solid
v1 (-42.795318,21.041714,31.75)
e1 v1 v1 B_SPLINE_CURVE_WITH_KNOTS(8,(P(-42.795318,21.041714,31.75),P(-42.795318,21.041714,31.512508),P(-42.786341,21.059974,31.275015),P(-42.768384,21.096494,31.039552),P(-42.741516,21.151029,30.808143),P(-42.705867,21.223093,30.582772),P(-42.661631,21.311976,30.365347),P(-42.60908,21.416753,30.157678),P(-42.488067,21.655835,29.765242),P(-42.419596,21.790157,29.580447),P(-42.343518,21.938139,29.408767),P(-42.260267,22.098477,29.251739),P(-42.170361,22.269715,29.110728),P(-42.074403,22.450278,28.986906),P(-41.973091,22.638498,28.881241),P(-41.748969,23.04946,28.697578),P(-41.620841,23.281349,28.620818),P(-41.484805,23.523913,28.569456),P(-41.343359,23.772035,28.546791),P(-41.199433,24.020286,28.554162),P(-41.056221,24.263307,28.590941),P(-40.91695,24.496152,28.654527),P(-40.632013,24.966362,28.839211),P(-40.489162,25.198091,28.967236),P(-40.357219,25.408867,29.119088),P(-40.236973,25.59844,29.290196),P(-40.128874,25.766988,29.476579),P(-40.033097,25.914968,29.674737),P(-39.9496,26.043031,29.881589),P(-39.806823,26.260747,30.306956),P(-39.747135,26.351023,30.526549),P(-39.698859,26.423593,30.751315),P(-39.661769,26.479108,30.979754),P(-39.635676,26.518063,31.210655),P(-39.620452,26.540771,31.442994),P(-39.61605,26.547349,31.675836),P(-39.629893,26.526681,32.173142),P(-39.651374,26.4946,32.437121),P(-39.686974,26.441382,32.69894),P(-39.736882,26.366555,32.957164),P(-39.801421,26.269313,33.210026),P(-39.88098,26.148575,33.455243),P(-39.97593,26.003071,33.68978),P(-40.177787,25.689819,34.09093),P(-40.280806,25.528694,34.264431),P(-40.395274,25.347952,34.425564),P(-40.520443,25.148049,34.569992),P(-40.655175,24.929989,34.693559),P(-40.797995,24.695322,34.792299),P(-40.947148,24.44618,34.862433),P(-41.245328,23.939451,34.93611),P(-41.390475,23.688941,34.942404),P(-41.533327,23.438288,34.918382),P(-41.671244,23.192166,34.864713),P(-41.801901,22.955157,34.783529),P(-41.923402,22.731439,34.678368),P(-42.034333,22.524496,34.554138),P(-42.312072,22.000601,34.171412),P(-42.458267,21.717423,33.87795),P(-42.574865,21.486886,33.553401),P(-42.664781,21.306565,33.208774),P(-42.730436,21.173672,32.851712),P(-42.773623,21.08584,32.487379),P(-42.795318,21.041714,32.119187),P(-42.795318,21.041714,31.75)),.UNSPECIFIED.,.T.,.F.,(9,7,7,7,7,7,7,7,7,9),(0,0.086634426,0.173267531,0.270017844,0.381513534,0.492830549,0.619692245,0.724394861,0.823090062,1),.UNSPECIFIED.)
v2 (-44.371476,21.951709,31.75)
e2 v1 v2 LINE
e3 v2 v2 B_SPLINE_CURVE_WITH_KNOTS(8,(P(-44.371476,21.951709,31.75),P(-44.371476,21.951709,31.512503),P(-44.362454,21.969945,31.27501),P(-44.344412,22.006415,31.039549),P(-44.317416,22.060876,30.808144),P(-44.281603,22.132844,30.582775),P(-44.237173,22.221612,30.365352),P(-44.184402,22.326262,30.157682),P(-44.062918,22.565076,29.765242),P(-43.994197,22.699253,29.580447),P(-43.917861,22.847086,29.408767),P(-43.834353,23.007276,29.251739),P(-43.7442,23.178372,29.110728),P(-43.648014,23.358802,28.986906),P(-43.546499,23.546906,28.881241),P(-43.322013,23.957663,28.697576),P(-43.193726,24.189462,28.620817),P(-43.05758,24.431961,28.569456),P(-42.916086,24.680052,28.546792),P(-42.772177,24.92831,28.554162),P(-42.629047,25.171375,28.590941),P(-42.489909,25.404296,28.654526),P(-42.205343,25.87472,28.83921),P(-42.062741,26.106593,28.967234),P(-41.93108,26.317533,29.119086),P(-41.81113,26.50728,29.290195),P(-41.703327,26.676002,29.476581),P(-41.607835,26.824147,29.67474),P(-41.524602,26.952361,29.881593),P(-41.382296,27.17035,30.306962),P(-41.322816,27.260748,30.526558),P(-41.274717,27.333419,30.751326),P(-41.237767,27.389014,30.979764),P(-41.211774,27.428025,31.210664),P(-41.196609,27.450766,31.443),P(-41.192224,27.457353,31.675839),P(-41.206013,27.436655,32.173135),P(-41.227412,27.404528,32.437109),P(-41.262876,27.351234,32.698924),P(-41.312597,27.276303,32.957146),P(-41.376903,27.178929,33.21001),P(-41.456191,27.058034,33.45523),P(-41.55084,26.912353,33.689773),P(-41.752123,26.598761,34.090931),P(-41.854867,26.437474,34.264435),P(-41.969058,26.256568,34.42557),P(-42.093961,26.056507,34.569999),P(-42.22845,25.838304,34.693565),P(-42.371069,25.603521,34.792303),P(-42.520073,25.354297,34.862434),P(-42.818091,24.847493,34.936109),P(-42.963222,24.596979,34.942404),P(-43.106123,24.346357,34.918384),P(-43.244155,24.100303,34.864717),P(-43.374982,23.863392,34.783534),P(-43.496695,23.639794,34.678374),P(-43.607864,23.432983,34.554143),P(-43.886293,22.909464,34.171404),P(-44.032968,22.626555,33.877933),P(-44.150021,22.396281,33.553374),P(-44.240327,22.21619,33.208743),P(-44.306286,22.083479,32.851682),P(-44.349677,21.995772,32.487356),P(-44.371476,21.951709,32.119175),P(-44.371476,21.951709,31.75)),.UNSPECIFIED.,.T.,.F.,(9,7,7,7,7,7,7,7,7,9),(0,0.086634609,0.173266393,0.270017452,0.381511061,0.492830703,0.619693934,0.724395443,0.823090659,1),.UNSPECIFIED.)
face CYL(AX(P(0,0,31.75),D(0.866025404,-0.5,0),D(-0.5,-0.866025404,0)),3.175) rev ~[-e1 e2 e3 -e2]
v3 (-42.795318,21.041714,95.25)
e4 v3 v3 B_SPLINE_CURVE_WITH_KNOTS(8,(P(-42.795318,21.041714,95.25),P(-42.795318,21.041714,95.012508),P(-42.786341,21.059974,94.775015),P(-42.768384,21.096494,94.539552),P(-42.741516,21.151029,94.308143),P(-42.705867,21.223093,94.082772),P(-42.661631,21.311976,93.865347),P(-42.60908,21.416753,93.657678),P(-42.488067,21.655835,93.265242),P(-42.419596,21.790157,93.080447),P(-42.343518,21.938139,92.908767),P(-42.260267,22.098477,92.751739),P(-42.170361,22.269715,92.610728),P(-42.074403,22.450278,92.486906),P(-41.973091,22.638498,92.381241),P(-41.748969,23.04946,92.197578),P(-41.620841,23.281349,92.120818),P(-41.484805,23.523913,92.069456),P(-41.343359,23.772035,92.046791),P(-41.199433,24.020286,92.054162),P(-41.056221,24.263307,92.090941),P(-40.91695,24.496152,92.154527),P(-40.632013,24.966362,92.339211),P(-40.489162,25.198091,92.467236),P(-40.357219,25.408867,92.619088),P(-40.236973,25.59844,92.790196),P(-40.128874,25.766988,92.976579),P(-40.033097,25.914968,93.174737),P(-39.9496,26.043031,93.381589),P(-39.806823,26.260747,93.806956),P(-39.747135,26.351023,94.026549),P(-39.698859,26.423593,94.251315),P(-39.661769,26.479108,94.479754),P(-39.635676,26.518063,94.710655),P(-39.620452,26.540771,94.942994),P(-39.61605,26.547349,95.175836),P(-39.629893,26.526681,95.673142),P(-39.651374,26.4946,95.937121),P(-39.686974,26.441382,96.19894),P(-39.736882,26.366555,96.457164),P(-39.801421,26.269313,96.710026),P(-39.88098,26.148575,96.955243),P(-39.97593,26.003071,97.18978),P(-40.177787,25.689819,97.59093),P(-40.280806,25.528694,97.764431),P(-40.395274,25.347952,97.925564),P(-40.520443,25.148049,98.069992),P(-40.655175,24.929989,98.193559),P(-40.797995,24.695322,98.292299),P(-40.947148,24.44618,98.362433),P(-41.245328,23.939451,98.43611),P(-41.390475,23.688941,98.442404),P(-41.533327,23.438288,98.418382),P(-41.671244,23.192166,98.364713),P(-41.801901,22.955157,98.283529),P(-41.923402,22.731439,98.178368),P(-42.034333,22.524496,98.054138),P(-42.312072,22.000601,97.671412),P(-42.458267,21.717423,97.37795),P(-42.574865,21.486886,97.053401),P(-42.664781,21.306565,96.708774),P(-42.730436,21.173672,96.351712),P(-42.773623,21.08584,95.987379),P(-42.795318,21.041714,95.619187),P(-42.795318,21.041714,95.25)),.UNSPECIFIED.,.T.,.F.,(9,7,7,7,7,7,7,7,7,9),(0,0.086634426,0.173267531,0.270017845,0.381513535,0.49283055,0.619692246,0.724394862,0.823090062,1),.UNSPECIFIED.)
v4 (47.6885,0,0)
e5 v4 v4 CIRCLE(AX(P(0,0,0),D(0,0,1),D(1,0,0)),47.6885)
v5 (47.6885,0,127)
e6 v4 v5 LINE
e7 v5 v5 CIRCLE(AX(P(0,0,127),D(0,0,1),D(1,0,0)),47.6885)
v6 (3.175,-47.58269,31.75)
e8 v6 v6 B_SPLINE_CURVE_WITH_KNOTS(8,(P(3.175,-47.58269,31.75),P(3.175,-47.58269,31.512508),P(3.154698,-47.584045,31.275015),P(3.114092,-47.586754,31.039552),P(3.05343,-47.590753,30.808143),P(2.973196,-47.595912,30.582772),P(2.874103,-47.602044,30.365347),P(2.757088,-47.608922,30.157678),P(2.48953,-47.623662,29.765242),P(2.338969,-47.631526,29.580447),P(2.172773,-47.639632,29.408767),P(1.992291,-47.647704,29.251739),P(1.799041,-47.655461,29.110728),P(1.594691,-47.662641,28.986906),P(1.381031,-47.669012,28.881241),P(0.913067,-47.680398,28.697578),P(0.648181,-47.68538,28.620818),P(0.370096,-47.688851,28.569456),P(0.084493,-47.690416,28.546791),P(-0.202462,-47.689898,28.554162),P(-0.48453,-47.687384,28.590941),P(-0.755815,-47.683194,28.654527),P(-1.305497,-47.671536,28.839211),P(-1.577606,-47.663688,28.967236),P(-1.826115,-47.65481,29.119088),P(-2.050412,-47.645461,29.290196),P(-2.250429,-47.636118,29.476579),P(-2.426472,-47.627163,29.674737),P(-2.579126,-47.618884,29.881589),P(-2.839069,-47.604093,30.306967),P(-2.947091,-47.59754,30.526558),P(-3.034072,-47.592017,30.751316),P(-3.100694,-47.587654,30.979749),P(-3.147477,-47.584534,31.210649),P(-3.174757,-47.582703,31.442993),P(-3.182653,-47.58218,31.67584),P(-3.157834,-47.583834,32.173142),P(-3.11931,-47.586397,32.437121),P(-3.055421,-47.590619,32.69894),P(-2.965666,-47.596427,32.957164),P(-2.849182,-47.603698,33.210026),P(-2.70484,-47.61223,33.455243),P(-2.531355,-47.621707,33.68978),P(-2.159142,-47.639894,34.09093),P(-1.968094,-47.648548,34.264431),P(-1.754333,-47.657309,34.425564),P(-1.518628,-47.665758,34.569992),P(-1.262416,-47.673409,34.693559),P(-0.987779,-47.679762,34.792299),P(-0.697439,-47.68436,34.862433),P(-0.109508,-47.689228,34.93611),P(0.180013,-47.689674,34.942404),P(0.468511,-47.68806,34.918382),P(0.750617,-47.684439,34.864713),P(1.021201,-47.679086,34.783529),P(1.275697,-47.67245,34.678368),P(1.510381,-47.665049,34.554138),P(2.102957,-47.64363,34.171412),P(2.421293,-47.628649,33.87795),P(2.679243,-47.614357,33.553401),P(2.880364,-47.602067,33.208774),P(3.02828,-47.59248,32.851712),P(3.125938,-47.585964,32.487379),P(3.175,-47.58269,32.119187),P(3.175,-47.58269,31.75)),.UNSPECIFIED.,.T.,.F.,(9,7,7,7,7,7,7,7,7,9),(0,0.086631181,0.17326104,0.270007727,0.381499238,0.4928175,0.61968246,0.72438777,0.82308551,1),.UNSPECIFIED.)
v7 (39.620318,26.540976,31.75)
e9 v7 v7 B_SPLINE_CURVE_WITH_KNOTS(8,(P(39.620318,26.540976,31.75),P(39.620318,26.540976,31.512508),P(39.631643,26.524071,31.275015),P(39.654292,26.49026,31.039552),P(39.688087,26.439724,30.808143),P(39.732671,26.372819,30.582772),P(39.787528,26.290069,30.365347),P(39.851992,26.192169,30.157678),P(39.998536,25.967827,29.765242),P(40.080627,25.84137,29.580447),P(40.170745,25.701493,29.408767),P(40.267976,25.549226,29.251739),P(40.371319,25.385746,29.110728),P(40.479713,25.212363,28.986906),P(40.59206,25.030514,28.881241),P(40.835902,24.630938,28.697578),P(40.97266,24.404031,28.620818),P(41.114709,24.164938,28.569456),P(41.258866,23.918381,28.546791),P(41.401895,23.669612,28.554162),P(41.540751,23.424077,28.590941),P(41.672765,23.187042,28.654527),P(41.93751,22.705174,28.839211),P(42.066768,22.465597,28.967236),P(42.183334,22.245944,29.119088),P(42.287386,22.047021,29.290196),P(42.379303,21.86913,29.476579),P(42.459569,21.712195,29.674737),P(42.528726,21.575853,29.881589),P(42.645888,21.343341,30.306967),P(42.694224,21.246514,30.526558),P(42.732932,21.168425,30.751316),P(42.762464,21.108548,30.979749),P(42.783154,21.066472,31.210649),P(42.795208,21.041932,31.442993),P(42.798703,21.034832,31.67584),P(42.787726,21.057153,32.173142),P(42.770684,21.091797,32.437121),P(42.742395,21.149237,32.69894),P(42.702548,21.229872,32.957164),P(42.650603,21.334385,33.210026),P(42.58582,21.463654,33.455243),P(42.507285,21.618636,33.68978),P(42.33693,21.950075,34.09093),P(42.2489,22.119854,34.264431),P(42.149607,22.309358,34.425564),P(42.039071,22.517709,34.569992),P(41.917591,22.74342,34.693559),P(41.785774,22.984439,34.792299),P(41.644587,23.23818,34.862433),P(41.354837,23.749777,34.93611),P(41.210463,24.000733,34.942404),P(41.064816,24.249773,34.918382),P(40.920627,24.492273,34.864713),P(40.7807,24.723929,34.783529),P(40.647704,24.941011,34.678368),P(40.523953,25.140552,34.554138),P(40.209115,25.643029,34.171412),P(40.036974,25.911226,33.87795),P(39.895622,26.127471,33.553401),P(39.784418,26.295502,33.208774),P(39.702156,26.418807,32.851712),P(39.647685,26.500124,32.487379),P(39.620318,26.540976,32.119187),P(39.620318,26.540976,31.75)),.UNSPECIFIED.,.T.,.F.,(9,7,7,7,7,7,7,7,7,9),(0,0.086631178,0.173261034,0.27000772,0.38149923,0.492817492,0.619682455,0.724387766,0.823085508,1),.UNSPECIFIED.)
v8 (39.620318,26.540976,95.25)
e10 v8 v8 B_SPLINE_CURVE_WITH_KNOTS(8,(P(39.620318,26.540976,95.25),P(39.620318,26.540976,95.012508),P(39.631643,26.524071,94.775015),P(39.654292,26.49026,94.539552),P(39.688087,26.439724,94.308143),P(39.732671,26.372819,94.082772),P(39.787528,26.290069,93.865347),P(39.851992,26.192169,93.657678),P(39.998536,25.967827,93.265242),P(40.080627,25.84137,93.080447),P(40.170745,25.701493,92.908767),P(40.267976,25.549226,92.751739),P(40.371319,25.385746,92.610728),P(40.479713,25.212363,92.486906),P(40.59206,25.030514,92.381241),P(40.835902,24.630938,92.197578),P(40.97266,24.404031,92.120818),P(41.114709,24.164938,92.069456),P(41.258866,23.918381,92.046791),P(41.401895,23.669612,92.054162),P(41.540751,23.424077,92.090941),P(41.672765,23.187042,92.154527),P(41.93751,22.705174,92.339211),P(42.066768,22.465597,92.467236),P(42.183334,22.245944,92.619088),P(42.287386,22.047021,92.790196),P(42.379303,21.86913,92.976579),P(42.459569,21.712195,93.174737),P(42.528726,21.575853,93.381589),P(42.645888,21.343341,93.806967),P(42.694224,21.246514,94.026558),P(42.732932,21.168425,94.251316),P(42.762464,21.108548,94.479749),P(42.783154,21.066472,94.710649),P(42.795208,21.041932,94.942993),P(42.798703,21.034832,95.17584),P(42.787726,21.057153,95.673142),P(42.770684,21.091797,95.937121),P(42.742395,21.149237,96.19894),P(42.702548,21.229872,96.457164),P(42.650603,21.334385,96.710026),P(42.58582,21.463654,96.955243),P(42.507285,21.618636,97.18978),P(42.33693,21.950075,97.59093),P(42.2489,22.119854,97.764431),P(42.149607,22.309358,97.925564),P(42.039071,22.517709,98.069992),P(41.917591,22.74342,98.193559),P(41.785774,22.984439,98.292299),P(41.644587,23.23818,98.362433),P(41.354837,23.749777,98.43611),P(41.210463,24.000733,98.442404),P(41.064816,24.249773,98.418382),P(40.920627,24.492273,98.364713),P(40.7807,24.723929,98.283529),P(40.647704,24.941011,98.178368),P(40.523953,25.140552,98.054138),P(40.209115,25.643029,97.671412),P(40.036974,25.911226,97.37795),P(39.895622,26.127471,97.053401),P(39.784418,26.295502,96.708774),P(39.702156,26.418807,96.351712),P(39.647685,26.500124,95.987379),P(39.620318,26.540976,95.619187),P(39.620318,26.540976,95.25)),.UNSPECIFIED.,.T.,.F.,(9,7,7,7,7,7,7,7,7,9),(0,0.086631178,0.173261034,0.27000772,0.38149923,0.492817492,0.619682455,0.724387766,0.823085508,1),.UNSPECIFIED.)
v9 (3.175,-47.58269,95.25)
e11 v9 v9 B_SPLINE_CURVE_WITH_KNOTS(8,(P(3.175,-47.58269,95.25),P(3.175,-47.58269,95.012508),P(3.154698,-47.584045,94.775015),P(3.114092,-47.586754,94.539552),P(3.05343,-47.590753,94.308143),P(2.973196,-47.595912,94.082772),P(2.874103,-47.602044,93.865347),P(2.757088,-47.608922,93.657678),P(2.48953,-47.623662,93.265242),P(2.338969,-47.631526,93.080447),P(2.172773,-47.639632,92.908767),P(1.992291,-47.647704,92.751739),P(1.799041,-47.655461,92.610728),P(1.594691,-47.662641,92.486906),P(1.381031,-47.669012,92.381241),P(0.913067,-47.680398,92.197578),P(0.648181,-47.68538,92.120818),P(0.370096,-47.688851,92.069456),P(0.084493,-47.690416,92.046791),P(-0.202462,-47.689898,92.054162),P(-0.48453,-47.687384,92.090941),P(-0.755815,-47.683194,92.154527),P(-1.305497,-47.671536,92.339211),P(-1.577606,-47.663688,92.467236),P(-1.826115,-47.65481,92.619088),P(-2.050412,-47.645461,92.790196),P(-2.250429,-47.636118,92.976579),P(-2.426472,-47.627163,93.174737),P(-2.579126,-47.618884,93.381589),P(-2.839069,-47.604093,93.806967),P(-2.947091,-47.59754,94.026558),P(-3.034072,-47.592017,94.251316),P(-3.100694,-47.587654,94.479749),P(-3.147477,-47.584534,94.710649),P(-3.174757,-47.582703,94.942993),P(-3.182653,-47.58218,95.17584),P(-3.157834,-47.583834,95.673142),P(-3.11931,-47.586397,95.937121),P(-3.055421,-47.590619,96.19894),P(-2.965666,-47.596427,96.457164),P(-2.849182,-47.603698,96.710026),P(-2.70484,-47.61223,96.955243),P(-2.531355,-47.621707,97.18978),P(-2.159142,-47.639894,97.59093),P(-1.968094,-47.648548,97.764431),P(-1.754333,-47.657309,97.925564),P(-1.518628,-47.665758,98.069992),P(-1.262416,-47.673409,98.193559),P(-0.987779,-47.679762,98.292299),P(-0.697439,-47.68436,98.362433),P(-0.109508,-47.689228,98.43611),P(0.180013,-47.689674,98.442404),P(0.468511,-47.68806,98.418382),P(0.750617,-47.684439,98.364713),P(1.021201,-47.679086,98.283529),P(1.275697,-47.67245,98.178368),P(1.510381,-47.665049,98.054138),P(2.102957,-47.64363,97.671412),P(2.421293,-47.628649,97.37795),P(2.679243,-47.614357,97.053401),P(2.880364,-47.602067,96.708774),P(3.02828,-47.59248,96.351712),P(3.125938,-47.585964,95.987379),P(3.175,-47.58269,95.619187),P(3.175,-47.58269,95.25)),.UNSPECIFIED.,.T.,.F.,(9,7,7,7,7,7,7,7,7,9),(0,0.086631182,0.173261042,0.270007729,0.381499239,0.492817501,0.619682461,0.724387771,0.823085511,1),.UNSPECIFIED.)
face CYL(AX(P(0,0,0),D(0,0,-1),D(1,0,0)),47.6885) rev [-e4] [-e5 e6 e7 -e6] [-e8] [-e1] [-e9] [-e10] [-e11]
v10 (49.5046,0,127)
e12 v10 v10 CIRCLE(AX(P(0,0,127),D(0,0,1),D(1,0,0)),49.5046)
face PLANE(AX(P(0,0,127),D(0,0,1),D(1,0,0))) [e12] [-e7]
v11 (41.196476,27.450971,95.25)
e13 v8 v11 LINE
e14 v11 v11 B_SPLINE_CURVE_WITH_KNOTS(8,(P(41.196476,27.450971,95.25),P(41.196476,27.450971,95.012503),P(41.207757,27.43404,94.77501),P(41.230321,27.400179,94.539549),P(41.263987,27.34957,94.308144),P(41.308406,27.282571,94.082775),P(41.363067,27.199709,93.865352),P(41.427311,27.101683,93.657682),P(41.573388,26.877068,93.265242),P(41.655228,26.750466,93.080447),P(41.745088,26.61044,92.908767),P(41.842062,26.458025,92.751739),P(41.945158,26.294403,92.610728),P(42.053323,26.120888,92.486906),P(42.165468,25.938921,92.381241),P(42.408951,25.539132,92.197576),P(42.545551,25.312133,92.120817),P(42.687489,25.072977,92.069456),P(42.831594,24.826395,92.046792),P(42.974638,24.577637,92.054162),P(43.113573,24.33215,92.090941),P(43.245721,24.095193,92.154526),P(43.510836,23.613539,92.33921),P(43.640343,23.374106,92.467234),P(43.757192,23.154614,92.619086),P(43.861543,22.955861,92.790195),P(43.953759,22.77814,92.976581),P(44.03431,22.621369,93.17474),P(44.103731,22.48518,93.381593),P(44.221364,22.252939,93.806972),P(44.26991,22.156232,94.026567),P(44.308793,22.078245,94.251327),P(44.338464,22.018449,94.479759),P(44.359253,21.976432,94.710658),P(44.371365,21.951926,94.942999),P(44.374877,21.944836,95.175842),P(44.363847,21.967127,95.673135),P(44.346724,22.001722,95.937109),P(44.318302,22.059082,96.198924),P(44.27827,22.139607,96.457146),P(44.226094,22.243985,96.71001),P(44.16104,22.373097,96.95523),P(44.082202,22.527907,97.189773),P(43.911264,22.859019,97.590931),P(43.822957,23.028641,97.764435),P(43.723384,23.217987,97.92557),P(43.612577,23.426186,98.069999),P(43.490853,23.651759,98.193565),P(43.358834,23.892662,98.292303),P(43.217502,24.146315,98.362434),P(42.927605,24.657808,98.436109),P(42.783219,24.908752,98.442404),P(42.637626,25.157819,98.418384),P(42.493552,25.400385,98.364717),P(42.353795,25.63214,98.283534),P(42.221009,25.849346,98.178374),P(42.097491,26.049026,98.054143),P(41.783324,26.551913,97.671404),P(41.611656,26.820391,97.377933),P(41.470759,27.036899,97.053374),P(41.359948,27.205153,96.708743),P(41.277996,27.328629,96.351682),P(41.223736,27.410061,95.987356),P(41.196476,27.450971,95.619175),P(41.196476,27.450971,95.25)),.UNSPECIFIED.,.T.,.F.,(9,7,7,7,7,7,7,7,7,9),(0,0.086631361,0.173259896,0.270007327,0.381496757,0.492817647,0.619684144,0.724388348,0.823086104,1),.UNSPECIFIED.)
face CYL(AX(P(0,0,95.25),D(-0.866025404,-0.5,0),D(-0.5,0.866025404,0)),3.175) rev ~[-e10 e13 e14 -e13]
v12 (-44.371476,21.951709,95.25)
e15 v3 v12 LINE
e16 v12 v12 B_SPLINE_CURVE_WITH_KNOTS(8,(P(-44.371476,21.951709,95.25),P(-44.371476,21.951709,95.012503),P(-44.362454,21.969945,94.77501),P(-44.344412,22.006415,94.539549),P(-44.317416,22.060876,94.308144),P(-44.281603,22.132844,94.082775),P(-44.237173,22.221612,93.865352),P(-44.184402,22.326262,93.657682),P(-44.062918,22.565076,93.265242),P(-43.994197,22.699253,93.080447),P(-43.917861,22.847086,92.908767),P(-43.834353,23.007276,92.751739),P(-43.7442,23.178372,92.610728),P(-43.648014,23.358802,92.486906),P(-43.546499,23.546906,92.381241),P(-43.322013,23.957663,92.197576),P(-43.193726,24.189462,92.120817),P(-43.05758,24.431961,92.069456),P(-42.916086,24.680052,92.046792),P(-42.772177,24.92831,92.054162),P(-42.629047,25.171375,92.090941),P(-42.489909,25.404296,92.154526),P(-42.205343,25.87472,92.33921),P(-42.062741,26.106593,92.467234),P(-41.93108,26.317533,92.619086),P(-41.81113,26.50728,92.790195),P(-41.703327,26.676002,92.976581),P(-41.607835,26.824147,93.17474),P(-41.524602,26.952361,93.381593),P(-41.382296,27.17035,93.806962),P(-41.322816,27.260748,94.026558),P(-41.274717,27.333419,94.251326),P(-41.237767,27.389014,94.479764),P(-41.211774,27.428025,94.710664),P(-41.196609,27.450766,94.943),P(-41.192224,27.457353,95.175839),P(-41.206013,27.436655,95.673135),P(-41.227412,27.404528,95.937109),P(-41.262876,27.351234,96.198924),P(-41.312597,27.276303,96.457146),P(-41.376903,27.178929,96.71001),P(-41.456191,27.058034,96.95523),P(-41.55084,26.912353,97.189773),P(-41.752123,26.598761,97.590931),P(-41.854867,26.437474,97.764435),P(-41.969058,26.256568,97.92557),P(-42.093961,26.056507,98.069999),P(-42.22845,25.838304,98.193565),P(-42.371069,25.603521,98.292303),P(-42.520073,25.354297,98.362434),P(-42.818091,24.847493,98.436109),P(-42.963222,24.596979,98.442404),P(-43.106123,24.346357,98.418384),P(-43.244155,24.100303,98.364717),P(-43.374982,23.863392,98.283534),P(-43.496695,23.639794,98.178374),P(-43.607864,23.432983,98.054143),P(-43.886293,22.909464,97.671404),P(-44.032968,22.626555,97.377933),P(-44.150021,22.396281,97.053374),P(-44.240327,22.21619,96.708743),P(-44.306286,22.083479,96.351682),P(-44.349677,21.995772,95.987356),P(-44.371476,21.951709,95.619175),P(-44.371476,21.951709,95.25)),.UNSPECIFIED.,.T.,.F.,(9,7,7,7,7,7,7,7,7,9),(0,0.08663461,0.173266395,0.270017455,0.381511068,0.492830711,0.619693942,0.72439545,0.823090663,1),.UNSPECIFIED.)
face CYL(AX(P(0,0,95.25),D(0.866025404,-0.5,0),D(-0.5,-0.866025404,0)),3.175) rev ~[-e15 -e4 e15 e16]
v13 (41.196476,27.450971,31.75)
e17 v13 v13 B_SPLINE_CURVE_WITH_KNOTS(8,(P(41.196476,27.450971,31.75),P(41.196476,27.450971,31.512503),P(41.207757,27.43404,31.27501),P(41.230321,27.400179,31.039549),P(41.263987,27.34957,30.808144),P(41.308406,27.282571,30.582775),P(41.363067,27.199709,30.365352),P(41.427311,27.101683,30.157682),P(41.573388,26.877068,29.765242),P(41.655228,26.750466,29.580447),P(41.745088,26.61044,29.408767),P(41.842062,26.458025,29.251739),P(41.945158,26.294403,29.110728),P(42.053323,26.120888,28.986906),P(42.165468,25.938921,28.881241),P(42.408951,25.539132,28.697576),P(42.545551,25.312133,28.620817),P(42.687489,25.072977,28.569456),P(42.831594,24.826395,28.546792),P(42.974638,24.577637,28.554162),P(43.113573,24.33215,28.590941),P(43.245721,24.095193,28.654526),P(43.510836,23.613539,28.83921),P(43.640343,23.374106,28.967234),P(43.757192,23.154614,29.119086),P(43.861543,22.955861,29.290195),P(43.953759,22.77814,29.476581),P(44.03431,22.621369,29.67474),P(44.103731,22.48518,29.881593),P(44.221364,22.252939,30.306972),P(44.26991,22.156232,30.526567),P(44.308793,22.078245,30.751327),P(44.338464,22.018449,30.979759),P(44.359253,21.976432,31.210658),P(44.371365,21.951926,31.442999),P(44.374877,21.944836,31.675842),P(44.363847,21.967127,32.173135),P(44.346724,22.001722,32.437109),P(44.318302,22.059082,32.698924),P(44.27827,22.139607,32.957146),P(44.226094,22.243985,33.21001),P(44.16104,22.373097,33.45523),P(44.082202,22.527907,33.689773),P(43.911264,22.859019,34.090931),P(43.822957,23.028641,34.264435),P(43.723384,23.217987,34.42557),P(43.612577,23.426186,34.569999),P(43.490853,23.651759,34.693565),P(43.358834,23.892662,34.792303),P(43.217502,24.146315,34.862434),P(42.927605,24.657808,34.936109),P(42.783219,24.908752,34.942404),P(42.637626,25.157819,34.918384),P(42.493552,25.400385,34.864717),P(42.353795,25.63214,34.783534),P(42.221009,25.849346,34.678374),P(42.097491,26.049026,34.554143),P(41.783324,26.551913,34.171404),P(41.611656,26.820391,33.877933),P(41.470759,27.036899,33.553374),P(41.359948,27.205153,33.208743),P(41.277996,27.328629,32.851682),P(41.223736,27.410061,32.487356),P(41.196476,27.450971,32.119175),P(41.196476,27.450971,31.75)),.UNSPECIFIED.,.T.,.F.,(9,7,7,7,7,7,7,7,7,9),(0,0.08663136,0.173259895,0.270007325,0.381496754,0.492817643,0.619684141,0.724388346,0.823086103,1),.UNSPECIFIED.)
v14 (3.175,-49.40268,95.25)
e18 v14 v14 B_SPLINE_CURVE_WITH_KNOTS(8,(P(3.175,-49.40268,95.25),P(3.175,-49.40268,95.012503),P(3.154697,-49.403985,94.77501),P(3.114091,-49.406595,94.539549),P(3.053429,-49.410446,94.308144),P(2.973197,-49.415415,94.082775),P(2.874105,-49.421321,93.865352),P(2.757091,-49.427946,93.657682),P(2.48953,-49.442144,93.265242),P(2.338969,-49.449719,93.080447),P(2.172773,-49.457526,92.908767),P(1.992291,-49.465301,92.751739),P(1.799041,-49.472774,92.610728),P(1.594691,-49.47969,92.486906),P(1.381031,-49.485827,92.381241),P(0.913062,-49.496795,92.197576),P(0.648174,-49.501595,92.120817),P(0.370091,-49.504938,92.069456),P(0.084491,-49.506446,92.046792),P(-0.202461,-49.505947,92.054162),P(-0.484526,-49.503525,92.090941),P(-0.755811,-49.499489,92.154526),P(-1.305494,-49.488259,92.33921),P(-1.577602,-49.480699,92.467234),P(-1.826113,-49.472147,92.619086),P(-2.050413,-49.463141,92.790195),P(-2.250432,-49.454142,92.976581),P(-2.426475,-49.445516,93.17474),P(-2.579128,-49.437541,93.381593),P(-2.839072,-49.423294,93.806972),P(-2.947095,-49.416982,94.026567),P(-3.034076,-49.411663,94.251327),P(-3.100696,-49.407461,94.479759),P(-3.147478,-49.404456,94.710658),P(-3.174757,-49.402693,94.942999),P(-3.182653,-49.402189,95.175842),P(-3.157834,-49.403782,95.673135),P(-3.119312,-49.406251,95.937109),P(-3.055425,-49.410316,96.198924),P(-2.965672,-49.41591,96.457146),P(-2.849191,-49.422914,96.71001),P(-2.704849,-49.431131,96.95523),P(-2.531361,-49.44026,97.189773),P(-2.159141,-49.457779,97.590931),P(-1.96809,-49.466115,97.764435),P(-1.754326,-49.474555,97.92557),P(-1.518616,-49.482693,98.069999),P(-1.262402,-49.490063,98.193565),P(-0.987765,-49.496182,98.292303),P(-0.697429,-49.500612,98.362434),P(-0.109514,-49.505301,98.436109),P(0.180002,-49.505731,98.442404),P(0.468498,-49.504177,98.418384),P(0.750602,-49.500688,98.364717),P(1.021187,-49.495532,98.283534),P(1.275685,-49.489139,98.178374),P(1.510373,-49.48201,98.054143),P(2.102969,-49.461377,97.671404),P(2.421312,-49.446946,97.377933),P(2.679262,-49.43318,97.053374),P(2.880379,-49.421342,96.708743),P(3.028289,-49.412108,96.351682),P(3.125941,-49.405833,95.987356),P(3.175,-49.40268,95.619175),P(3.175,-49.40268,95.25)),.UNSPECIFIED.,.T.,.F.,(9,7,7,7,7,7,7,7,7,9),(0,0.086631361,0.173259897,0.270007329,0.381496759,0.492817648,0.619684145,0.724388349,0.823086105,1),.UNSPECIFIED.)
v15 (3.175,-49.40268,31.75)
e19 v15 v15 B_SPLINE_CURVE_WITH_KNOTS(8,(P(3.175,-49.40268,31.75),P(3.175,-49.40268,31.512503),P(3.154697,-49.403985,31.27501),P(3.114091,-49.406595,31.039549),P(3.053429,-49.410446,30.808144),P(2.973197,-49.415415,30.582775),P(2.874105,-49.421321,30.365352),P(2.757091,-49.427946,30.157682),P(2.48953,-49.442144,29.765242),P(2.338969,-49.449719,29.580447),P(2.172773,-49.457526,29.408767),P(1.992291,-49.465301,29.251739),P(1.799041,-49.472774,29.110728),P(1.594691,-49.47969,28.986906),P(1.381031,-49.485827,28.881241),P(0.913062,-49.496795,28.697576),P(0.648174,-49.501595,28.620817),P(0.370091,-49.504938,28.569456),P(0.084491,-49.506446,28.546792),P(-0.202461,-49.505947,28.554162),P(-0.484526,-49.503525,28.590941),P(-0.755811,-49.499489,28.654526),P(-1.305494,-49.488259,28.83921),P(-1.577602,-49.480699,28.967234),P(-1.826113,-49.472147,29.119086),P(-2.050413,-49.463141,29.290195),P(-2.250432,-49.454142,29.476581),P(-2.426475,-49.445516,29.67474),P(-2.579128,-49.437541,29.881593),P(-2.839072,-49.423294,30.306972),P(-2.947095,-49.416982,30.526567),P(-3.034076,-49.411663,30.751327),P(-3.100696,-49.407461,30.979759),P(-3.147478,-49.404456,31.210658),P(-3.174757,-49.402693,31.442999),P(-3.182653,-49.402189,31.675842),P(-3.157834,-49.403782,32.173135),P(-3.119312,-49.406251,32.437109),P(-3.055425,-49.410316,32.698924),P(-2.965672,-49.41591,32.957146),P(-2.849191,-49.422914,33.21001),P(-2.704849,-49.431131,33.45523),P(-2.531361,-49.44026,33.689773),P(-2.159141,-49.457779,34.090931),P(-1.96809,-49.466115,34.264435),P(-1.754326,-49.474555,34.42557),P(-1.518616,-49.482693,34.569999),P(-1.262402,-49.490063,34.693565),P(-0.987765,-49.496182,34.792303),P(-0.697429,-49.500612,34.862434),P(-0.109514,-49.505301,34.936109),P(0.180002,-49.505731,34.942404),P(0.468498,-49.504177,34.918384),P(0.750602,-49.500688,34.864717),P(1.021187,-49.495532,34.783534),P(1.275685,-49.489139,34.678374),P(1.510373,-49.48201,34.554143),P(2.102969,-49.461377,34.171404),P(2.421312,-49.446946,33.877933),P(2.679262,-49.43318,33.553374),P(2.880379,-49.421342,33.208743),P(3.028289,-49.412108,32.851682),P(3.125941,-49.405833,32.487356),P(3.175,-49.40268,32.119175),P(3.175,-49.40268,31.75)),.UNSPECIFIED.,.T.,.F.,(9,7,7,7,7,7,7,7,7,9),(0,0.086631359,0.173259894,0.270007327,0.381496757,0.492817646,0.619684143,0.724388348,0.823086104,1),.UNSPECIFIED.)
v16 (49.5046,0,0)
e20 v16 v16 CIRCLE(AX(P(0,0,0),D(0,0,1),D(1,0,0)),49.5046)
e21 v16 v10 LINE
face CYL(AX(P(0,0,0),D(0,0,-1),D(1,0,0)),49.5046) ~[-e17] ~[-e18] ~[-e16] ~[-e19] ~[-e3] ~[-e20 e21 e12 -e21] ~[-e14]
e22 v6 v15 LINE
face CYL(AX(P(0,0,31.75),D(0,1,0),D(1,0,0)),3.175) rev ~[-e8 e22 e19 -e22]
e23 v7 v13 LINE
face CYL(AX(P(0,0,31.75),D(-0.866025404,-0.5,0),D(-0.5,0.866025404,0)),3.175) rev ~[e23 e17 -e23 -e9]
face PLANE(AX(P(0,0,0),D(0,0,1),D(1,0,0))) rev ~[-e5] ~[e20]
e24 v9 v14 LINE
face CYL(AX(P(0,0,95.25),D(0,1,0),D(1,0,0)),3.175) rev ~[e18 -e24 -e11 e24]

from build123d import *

# Parameters (mm, degrees)
SKETCH1_R           = 49.5046
SKETCH1_R_2         = 47.6885
BOSS_EXTRUDE1_DEPTH = 127
SKETCH4_R           = 3.175
CUT_EXTRUDE3_DEPTH  = 50.5046
CIRPATTERN2_COUNT   = 3


with BuildPart() as part:
    # Sketch1 → Boss-Extrude1 (new body)
    with BuildSketch(Plane.XY):
        Circle(SKETCH1_R)
        Circle(SKETCH1_R_2, mode=Mode.SUBTRACT)
    extrude(amount=BOSS_EXTRUDE1_DEPTH)

    # Sketch4 → Cut-Extrude3 (cut, through all)
    with BuildSketch(Plane(origin=(0, 0, 0), x_dir=(1, 0, 0), z_dir=(0, 1, 0))):
        with Locations((0, -31.75)):
            Circle(SKETCH4_R)
        with Locations((0, -95.25)):
            Circle(SKETCH4_R)
    cut_extrude3 = extrude(amount=-CUT_EXTRUDE3_DEPTH, mode=Mode.SUBTRACT)

    # CirPattern2: Cut-Extrude3 ×3 about axis
    cirpattern2_axis = Axis((0, 0, 127), (0, 0, -1))
    for i in range(1, CIRPATTERN2_COUNT):
        add(cut_extrude3.rotate(cirpattern2_axis, i * 360 / CIRPATTERN2_COUNT), mode=Mode.SUBTRACT)


solid = part.part
